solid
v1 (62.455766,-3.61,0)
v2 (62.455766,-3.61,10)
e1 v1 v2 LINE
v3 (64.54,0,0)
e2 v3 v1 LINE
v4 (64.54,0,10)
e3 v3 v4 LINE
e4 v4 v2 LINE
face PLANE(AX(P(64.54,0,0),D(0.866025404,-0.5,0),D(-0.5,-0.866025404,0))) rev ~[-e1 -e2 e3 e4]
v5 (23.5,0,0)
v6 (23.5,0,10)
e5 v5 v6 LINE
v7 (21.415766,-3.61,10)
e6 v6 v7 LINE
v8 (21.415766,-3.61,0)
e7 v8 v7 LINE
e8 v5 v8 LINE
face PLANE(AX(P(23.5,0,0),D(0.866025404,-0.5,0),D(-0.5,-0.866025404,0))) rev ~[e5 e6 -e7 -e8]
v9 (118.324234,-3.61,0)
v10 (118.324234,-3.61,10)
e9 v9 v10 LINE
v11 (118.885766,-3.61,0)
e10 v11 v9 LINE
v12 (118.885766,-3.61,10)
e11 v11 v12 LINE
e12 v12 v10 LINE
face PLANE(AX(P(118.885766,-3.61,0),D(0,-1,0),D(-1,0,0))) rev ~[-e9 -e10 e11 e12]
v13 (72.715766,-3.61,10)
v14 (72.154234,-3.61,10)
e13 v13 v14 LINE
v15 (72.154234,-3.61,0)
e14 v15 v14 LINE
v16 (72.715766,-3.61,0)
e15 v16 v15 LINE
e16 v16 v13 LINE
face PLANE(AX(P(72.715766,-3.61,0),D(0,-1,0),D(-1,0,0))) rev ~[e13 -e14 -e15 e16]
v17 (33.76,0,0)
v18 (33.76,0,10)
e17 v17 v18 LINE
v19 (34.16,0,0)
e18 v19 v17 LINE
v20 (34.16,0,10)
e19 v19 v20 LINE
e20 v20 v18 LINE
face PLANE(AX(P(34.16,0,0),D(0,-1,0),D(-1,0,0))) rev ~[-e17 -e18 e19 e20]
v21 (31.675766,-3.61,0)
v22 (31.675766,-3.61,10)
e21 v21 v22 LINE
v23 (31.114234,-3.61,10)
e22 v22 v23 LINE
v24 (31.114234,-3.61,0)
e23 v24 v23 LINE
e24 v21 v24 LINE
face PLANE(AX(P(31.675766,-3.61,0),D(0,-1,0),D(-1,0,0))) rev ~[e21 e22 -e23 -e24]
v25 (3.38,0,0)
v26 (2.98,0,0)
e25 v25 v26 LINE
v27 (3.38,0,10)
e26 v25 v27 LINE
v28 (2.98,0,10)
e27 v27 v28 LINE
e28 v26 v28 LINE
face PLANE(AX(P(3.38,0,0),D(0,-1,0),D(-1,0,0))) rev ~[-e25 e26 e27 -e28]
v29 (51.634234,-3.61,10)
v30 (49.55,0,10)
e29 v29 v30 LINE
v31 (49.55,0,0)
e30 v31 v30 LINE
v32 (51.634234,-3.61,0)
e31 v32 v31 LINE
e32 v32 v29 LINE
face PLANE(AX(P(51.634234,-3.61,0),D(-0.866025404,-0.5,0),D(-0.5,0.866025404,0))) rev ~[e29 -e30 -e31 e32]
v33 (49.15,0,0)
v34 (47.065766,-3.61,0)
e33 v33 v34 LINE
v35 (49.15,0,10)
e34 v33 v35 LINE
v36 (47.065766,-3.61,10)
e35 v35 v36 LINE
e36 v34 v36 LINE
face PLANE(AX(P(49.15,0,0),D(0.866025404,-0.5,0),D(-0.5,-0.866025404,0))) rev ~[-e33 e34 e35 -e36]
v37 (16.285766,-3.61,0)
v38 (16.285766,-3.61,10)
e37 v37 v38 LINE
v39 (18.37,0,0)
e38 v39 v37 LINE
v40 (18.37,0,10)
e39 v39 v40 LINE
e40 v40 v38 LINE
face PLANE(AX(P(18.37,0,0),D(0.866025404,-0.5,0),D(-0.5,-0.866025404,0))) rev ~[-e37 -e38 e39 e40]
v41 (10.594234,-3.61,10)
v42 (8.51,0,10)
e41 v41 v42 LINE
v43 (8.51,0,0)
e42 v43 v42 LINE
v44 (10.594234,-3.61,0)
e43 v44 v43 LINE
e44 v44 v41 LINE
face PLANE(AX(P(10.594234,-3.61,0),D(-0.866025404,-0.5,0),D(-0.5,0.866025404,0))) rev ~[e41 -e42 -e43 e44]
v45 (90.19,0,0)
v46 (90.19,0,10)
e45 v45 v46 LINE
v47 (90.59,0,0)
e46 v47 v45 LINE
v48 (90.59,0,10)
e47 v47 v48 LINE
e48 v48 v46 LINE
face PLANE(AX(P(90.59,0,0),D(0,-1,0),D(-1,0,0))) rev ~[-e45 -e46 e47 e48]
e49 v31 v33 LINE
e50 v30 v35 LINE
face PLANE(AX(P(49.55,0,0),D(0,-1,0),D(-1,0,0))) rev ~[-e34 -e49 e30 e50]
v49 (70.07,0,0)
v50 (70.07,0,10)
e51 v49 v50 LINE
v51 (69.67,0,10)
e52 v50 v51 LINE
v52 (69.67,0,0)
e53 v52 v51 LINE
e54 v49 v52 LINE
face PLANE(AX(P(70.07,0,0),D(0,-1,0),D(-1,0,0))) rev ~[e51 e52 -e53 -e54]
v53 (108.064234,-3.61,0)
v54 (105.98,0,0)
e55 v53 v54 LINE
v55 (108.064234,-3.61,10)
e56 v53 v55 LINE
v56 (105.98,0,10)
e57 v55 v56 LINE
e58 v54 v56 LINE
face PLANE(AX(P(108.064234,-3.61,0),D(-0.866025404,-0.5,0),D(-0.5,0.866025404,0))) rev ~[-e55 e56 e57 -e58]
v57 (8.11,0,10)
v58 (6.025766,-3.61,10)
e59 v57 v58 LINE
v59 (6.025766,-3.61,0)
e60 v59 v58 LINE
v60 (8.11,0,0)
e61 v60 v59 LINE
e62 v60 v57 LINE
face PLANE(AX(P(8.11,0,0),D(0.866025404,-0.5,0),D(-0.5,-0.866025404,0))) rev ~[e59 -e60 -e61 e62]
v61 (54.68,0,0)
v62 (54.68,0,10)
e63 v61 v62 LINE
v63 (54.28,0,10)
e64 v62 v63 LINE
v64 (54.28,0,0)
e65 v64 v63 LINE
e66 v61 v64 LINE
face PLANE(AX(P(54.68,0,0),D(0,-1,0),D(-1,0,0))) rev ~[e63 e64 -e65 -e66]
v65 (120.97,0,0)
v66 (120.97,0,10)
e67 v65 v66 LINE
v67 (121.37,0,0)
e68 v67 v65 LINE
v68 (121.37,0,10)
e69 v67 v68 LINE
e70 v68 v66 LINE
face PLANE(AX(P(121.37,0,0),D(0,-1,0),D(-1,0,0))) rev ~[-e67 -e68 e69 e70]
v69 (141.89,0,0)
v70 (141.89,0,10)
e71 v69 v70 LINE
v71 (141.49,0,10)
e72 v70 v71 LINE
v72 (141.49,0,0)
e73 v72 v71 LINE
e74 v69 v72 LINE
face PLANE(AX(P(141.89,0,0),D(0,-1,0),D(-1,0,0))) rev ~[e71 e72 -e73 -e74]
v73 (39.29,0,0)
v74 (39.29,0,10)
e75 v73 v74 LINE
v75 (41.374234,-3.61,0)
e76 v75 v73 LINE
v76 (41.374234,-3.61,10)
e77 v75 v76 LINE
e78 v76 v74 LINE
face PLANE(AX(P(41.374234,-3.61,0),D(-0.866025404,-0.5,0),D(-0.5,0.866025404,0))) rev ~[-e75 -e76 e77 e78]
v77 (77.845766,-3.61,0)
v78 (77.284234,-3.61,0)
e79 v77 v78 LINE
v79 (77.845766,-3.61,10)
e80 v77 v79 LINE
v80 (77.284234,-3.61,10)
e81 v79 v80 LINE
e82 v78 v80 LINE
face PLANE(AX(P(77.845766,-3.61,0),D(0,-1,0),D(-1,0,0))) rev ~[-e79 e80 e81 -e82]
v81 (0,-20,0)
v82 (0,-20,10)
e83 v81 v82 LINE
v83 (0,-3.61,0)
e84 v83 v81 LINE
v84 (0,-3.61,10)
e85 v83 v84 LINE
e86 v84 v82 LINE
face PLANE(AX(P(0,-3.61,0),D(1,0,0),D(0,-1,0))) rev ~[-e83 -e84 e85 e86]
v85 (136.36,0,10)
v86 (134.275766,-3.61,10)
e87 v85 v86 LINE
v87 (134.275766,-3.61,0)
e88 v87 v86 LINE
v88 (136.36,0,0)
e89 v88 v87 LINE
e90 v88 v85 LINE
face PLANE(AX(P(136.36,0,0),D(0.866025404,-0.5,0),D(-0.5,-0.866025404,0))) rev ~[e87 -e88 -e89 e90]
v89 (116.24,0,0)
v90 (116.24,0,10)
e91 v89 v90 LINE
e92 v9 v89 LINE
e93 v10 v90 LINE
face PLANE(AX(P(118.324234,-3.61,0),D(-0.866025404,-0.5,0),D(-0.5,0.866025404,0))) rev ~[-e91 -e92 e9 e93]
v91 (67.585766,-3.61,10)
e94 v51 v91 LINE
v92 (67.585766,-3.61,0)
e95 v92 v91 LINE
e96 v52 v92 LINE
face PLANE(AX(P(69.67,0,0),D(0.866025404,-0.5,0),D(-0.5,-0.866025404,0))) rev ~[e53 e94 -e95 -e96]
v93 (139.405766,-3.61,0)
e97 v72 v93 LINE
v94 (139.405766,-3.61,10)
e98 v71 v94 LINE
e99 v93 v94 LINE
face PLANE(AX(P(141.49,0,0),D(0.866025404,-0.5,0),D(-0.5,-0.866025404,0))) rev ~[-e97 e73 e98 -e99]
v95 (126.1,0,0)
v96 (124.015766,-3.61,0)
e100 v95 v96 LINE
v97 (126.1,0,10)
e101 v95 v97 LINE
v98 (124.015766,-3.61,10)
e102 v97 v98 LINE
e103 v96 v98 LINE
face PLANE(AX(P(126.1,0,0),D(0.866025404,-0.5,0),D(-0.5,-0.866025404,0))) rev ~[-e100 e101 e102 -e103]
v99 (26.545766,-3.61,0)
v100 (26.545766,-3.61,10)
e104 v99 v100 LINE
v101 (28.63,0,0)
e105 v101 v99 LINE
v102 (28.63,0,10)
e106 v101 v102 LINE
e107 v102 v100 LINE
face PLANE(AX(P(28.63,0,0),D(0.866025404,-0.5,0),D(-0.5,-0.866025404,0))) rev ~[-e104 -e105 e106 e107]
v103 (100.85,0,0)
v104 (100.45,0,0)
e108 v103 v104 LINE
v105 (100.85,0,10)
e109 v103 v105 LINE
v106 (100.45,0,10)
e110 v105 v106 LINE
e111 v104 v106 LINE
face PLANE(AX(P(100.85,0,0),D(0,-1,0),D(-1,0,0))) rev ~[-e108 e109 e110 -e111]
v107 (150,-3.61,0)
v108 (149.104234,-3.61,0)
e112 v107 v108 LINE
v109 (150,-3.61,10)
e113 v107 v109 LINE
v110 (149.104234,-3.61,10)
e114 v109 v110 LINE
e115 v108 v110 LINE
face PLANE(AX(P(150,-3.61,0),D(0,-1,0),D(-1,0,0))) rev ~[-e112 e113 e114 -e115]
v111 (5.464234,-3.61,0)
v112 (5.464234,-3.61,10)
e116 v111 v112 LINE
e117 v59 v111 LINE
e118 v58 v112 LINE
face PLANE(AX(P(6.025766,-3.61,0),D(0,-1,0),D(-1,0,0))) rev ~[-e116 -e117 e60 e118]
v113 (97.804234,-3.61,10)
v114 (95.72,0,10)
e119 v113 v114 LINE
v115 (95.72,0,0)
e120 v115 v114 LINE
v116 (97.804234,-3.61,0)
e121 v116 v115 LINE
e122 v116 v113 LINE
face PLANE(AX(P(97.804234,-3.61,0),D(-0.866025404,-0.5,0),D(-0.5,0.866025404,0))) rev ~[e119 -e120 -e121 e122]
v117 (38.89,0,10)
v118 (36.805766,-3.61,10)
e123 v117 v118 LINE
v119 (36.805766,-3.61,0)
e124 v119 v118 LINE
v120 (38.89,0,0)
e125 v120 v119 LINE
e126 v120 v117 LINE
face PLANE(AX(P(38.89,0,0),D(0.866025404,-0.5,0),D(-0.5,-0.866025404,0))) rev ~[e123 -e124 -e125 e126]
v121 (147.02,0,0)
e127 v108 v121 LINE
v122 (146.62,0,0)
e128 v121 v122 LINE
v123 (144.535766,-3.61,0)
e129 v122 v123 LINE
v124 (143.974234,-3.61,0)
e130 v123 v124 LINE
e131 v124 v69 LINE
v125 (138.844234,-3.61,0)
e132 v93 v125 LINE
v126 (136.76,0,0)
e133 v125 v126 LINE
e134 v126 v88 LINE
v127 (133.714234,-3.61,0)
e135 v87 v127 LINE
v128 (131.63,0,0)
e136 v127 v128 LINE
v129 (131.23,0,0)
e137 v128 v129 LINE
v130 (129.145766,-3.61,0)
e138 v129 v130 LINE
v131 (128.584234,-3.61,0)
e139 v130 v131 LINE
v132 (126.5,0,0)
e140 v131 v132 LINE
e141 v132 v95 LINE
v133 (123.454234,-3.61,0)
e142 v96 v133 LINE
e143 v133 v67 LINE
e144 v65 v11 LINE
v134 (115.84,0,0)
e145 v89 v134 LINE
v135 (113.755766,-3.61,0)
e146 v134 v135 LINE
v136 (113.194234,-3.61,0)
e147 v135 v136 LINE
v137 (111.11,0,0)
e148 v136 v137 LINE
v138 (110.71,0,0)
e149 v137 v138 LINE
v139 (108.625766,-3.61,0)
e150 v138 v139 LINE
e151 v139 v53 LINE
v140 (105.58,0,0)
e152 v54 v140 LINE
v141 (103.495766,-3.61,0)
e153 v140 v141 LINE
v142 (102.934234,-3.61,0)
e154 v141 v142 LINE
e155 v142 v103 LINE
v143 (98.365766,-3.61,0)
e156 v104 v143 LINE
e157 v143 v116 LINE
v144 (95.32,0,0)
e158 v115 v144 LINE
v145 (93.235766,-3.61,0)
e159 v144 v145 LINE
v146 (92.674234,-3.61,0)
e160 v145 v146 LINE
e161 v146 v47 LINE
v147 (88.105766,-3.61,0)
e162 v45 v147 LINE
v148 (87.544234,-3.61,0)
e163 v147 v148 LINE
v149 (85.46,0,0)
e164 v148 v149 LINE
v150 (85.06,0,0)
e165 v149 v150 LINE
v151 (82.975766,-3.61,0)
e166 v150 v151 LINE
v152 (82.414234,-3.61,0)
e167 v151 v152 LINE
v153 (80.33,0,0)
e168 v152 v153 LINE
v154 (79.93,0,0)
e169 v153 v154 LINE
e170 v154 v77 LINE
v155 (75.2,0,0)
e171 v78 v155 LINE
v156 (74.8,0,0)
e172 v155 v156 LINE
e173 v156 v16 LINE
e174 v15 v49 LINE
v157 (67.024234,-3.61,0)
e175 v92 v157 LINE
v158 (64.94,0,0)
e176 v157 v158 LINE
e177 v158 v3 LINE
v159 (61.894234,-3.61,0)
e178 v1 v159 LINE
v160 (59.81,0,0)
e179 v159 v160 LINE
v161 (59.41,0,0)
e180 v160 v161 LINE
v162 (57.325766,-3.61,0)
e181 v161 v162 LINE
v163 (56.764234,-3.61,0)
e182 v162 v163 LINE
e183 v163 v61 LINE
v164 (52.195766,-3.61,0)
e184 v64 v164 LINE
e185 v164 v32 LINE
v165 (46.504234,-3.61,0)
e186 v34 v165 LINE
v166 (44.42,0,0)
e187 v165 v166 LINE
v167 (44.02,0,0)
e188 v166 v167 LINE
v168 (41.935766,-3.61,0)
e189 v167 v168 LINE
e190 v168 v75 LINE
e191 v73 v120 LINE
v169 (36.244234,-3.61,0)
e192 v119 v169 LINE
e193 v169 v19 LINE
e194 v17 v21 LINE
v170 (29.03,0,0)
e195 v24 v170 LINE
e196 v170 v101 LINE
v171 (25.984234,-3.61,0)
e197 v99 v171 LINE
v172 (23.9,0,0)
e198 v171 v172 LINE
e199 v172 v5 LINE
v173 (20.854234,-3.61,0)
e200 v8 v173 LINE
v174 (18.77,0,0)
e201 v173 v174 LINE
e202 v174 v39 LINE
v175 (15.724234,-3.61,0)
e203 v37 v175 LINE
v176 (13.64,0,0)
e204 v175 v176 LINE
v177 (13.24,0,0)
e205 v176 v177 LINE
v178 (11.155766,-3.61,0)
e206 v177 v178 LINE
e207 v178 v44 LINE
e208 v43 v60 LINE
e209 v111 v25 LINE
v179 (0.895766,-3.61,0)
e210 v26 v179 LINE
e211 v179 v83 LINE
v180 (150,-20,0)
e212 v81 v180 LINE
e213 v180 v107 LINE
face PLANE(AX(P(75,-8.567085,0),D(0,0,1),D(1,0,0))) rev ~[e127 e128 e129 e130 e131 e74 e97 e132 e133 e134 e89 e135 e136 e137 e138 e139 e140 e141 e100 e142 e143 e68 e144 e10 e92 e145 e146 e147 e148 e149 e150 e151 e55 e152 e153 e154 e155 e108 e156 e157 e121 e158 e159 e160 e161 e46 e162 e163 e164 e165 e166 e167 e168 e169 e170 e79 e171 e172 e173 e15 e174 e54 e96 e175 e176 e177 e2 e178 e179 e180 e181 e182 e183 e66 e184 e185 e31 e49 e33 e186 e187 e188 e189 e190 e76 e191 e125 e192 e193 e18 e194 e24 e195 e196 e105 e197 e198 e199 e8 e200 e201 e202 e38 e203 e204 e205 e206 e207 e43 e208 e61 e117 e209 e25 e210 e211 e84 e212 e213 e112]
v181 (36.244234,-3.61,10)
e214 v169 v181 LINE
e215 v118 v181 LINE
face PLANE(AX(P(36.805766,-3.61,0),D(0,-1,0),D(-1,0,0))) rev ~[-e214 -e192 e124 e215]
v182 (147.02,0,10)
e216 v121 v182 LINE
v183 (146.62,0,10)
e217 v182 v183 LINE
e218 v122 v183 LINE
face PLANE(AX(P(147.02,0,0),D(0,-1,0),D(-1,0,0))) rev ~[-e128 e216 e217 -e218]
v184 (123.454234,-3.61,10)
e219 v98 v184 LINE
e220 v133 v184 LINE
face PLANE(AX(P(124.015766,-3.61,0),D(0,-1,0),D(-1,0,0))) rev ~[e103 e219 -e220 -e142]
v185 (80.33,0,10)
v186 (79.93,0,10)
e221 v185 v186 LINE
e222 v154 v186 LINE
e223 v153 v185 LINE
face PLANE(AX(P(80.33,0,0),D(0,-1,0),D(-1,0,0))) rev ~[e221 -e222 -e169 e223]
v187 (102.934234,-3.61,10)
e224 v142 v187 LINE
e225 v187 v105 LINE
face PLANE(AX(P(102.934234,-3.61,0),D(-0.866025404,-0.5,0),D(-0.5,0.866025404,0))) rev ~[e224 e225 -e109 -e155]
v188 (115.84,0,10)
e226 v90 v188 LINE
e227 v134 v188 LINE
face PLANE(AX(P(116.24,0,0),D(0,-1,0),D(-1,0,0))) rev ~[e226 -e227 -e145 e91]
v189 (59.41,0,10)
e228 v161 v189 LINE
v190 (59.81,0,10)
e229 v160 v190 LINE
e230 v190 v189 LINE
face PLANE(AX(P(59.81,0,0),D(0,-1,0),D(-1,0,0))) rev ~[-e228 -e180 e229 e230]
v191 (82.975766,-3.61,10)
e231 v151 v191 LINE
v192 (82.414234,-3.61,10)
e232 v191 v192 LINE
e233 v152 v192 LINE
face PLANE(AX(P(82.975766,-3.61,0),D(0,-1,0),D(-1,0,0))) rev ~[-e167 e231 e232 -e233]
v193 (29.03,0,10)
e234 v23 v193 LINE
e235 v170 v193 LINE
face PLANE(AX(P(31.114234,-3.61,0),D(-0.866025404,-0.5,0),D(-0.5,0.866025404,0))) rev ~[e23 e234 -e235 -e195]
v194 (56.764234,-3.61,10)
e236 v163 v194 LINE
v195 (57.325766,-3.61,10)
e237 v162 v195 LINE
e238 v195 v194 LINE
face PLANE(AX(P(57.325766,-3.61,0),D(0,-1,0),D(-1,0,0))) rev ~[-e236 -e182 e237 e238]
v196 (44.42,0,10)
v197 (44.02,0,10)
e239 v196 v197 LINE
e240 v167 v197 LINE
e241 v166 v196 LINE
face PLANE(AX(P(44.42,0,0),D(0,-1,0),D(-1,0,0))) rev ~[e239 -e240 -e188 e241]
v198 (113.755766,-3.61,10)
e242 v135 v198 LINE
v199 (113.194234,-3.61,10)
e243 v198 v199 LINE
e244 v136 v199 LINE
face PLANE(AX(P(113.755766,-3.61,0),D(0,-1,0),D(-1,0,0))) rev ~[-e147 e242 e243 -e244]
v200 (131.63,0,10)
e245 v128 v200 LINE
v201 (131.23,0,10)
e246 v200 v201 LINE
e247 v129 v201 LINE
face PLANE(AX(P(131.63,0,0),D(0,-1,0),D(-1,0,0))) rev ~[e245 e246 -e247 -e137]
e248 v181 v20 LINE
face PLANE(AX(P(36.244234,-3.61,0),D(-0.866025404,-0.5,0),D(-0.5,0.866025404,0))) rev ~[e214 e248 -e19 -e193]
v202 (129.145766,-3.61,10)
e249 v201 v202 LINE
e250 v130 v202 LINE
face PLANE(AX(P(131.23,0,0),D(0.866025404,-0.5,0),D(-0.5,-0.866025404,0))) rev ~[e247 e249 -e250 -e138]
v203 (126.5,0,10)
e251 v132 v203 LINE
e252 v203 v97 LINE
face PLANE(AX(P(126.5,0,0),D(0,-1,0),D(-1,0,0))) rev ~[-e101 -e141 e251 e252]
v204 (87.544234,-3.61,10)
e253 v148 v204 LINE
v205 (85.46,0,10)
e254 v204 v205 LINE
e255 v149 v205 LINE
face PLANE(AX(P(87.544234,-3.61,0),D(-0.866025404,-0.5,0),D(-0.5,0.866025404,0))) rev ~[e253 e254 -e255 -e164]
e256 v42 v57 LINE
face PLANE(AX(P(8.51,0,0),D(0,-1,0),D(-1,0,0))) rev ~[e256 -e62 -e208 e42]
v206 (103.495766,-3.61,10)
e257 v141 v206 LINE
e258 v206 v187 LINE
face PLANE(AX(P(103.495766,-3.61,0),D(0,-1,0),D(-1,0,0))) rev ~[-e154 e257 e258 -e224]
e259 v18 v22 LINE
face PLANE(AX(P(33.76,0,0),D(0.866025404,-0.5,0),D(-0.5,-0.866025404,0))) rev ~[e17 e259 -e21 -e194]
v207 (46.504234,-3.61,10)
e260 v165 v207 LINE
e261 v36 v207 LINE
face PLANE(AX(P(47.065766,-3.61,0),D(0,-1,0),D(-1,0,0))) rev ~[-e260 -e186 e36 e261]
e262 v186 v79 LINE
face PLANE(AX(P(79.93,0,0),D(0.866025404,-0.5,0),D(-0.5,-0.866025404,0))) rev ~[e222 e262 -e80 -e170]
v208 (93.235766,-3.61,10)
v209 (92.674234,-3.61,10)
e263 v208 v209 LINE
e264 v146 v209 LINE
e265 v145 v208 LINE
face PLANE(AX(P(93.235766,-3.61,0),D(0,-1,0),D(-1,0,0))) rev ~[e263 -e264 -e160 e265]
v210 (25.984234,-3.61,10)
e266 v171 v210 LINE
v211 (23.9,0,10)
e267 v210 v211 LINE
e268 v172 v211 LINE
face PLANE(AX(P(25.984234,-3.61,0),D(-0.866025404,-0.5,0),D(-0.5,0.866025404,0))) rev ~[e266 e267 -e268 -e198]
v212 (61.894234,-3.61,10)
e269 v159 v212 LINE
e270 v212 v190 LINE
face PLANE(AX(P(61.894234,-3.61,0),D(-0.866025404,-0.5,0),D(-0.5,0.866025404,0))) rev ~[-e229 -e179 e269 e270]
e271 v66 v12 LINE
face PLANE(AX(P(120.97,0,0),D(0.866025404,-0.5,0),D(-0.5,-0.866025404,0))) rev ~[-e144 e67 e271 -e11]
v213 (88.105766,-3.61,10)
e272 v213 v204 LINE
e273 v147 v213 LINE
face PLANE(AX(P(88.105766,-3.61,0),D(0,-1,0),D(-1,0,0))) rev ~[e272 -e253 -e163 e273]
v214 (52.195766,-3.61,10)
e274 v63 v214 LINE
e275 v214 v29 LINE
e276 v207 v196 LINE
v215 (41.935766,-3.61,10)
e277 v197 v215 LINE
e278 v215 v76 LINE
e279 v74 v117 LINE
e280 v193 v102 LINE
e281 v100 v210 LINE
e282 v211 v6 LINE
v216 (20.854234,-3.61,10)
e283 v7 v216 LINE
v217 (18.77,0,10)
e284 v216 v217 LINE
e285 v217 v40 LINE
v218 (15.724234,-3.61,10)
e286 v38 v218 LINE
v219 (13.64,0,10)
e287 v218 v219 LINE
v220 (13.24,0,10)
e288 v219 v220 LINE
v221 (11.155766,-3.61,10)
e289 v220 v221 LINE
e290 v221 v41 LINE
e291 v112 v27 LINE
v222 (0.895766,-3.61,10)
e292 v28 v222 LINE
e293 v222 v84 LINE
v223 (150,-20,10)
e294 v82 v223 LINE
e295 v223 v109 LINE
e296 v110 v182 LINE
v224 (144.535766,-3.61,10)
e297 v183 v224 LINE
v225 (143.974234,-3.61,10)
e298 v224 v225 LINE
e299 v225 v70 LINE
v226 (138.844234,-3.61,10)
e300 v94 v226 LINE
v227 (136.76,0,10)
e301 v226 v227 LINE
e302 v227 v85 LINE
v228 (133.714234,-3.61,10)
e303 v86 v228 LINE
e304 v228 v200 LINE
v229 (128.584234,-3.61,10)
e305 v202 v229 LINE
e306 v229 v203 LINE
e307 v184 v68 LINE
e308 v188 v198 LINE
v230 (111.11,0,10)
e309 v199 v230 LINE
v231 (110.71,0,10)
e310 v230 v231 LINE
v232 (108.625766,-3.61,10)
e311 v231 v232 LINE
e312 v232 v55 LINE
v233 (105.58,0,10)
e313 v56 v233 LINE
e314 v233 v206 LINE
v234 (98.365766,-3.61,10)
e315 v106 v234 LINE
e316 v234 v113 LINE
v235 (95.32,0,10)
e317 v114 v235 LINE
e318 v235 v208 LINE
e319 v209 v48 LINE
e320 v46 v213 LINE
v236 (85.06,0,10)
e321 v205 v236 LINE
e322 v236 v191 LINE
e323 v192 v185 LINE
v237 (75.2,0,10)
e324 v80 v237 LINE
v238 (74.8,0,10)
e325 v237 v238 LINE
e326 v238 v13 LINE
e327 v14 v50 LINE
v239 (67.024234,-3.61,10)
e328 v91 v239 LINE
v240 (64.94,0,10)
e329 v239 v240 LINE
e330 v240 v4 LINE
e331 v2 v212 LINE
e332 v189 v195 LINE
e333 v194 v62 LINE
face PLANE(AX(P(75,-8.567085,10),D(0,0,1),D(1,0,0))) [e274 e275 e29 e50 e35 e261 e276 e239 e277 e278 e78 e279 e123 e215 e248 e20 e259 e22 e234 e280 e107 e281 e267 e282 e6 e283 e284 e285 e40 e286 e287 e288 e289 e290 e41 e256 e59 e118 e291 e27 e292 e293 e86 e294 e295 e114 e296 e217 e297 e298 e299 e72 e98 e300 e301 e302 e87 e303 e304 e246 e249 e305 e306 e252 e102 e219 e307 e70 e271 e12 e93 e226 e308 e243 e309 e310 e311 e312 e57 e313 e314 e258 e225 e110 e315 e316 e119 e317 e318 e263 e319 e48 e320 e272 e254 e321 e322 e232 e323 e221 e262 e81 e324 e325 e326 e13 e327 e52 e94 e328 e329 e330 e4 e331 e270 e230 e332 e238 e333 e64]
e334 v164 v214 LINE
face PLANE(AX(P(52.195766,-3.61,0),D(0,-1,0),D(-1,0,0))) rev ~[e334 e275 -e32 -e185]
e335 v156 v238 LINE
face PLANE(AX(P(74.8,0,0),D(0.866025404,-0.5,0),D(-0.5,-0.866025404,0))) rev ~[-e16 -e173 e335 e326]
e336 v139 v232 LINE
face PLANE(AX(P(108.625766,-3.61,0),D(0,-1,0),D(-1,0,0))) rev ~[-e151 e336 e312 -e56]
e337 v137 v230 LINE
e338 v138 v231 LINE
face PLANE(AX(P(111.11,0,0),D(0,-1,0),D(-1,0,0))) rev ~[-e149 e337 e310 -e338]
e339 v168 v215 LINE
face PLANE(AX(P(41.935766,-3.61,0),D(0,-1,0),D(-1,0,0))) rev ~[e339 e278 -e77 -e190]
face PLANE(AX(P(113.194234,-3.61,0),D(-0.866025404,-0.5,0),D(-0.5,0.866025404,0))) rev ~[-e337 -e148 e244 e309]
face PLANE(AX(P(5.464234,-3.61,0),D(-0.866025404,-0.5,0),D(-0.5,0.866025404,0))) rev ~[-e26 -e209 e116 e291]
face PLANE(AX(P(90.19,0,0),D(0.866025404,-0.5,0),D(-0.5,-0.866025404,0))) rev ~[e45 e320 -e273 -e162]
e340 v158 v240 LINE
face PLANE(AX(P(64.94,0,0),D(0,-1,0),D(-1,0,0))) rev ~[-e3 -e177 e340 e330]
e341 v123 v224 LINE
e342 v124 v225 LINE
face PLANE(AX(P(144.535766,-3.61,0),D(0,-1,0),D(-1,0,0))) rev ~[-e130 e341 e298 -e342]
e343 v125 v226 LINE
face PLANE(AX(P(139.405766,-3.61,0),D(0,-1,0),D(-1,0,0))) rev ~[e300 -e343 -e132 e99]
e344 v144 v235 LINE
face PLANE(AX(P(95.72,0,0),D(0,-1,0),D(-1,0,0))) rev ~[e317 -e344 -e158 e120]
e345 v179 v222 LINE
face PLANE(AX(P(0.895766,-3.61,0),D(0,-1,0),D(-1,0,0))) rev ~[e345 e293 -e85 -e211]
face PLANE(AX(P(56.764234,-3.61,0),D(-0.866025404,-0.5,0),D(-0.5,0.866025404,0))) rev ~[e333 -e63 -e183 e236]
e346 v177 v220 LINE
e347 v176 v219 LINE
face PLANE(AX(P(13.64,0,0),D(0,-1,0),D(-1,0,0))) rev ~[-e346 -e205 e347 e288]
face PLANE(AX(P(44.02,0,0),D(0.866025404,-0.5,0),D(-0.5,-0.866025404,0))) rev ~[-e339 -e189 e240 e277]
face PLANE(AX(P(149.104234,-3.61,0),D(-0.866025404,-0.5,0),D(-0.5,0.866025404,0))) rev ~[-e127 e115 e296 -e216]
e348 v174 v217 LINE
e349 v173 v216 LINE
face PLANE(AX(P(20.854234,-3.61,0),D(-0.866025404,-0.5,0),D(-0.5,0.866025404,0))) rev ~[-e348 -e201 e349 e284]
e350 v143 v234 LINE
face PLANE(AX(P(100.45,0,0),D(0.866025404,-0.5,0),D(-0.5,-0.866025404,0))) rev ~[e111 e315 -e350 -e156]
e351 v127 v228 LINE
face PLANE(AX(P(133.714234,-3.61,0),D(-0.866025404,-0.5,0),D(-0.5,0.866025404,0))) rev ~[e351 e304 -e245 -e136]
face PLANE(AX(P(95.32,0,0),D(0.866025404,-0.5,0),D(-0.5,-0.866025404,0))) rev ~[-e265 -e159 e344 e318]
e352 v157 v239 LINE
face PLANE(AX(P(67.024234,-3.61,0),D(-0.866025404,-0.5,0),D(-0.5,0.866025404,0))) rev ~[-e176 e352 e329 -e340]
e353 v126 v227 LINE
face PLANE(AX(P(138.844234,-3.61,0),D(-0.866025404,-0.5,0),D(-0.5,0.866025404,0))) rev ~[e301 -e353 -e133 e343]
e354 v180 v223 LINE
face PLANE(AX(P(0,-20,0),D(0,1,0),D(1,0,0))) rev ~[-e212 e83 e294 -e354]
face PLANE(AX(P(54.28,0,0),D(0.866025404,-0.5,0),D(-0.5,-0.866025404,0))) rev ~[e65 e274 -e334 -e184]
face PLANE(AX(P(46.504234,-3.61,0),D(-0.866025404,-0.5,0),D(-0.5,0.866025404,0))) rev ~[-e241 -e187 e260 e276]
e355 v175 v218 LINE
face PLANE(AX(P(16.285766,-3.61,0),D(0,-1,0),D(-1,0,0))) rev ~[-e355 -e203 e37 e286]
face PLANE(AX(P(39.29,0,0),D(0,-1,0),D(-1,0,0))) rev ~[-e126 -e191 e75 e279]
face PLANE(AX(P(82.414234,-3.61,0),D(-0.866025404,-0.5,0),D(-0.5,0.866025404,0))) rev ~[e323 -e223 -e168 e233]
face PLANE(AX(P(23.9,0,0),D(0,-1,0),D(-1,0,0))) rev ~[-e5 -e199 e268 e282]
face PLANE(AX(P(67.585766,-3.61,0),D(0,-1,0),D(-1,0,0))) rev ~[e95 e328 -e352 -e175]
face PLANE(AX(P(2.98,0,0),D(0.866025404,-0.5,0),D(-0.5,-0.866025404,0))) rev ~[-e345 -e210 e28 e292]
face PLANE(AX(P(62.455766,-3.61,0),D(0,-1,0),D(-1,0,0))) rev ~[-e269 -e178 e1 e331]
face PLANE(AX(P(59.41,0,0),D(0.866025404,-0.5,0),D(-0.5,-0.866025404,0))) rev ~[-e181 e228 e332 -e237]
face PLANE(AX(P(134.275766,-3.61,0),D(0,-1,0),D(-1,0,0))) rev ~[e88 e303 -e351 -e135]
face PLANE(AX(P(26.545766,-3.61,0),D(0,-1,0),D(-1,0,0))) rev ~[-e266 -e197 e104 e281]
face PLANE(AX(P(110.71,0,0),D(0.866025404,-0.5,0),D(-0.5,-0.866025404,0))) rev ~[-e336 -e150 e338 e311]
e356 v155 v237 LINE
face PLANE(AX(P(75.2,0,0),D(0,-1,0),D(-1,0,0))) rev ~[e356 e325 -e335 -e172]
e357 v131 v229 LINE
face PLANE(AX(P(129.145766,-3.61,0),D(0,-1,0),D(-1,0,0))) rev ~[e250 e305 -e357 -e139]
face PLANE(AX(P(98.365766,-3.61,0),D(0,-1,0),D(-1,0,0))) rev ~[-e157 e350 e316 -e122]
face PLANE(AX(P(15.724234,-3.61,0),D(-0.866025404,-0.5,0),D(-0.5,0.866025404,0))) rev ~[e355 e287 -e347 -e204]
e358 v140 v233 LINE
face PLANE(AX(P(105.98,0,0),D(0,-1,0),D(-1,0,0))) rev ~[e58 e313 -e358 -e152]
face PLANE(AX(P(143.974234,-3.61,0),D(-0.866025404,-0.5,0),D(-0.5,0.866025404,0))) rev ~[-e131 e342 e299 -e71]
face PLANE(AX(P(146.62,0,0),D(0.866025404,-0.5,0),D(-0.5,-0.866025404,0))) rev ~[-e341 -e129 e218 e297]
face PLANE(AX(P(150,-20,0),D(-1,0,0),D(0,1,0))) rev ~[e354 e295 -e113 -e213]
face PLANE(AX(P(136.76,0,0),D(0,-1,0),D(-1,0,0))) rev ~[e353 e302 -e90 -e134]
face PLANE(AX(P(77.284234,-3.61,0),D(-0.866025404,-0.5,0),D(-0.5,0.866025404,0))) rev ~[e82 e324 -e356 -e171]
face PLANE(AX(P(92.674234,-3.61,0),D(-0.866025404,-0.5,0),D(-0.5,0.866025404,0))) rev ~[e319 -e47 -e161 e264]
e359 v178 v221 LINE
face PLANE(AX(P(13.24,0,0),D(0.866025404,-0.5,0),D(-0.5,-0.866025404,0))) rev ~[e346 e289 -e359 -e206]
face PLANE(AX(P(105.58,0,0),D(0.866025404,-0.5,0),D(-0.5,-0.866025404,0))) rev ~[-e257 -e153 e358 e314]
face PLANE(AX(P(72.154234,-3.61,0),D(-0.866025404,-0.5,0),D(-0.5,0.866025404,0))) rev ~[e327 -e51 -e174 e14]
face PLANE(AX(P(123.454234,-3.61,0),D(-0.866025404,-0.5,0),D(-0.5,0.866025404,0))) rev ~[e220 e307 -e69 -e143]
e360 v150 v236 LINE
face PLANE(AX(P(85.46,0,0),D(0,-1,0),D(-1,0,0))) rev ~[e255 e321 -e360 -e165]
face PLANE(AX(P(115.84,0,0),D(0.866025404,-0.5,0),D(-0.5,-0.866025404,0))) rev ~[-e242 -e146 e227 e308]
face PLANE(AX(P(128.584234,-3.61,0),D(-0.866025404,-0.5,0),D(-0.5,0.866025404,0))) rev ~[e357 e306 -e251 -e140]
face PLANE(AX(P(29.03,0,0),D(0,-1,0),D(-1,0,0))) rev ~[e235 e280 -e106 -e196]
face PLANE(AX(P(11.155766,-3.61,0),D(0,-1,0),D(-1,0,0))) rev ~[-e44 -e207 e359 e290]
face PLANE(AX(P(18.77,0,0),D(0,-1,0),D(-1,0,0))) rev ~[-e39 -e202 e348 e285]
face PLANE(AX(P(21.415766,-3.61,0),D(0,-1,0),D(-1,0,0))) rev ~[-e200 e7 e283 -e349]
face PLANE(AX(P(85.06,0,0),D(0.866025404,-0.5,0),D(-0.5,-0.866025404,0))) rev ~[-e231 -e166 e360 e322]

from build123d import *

# Parameters (mm, degrees)
BOSS_EXTRUDE1_DEPTH = 10


with BuildPart() as part:
    # Sketch1 → Boss-Extrude1 (new body)
    with BuildSketch(Plane.XY):
        Polygon((79.93, 0), (77.845765528, -3.61), (77.284234472, -3.61), (75.2, 0), (74.8, 0), (72.715765528, -3.61), (72.154234472, -3.61), (70.07, 0), (69.67, 0), (67.585765528, -3.61), (67.024234472, -3.61), (64.94, 0), (64.54, 0), (62.455765528, -3.61), (61.894234472, -3.61), (59.81, 0), (59.41, 0), (57.325765528, -3.61), (56.764234472, -3.61), (54.68, 0), (54.28, 0), (52.195765528, -3.61), (51.634234472, -3.61), (49.55, 0), (49.15, 0), (47.065765528, -3.61), (46.504234472, -3.61), (44.42, 0), (44.02, 0), (41.935765528, -3.61), (41.374234472, -3.61), (39.29, 0), (38.89, 0), (36.805765528, -3.61), (36.244234472, -3.61), (34.16, 0), (33.76, 0), (31.675765528, -3.61), (31.114234472, -3.61), (29.03, 0), (28.63, 0), (26.545765528, -3.61), (25.984234472, -3.61), (23.9, 0), (23.5, 0), (21.415765528, -3.61), (20.854234472, -3.61), (18.77, 0), (18.37, 0), (16.285765528, -3.61), (15.724234472, -3.61), (13.64, 0), (13.24, 0), (11.155765528, -3.61), (10.594234472, -3.61), (8.51, 0), (8.11, 0), (6.025765528, -3.61), (5.464234472, -3.61), (3.38, 0), (2.98, 0), (0.895765528, -3.61), (0, -3.61), (0, -20), (150, -20), (150, -3.61), (149.104234472, -3.61), (147.02, 0), (146.62, 0), (144.535765528, -3.61), (143.974234472, -3.61), (141.89, 0), (141.49, 0), (139.405765528, -3.61), (138.844234472, -3.61), (136.76, 0), (136.36, 0), (134.275765528, -3.61), (133.714234472, -3.61), (131.63, 0), (131.23, 0), (129.145765528, -3.61), (128.584234472, -3.61), (126.5, 0), (126.1, 0), (124.015765528, -3.61), (123.454234472, -3.61), (121.37, 0), (120.97, 0), (118.885765528, -3.61), (118.324234472, -3.61), (116.24, 0), (115.84, 0), (113.755765528, -3.61), (113.194234472, -3.61), (111.11, 0), (110.71, 0), (108.625765528, -3.61), (108.064234472, -3.61), (105.98, 0), (105.58, 0), (103.495765528, -3.61), (102.934234472, -3.61), (100.85, 0), (100.45, 0), (98.365765528, -3.61), (97.804234472, -3.61), (95.72, 0), (95.32, 0), (93.235765528, -3.61), (92.674234472, -3.61), (90.59, 0), (90.19, 0), (88.105765528, -3.61), (87.544234472, -3.61), (85.46, 0), (85.06, 0), (82.975765528, -3.61), (82.414234472, -3.61), (80.33, 0), align=None)
    extrude(amount=BOSS_EXTRUDE1_DEPTH)


solid = part.part
